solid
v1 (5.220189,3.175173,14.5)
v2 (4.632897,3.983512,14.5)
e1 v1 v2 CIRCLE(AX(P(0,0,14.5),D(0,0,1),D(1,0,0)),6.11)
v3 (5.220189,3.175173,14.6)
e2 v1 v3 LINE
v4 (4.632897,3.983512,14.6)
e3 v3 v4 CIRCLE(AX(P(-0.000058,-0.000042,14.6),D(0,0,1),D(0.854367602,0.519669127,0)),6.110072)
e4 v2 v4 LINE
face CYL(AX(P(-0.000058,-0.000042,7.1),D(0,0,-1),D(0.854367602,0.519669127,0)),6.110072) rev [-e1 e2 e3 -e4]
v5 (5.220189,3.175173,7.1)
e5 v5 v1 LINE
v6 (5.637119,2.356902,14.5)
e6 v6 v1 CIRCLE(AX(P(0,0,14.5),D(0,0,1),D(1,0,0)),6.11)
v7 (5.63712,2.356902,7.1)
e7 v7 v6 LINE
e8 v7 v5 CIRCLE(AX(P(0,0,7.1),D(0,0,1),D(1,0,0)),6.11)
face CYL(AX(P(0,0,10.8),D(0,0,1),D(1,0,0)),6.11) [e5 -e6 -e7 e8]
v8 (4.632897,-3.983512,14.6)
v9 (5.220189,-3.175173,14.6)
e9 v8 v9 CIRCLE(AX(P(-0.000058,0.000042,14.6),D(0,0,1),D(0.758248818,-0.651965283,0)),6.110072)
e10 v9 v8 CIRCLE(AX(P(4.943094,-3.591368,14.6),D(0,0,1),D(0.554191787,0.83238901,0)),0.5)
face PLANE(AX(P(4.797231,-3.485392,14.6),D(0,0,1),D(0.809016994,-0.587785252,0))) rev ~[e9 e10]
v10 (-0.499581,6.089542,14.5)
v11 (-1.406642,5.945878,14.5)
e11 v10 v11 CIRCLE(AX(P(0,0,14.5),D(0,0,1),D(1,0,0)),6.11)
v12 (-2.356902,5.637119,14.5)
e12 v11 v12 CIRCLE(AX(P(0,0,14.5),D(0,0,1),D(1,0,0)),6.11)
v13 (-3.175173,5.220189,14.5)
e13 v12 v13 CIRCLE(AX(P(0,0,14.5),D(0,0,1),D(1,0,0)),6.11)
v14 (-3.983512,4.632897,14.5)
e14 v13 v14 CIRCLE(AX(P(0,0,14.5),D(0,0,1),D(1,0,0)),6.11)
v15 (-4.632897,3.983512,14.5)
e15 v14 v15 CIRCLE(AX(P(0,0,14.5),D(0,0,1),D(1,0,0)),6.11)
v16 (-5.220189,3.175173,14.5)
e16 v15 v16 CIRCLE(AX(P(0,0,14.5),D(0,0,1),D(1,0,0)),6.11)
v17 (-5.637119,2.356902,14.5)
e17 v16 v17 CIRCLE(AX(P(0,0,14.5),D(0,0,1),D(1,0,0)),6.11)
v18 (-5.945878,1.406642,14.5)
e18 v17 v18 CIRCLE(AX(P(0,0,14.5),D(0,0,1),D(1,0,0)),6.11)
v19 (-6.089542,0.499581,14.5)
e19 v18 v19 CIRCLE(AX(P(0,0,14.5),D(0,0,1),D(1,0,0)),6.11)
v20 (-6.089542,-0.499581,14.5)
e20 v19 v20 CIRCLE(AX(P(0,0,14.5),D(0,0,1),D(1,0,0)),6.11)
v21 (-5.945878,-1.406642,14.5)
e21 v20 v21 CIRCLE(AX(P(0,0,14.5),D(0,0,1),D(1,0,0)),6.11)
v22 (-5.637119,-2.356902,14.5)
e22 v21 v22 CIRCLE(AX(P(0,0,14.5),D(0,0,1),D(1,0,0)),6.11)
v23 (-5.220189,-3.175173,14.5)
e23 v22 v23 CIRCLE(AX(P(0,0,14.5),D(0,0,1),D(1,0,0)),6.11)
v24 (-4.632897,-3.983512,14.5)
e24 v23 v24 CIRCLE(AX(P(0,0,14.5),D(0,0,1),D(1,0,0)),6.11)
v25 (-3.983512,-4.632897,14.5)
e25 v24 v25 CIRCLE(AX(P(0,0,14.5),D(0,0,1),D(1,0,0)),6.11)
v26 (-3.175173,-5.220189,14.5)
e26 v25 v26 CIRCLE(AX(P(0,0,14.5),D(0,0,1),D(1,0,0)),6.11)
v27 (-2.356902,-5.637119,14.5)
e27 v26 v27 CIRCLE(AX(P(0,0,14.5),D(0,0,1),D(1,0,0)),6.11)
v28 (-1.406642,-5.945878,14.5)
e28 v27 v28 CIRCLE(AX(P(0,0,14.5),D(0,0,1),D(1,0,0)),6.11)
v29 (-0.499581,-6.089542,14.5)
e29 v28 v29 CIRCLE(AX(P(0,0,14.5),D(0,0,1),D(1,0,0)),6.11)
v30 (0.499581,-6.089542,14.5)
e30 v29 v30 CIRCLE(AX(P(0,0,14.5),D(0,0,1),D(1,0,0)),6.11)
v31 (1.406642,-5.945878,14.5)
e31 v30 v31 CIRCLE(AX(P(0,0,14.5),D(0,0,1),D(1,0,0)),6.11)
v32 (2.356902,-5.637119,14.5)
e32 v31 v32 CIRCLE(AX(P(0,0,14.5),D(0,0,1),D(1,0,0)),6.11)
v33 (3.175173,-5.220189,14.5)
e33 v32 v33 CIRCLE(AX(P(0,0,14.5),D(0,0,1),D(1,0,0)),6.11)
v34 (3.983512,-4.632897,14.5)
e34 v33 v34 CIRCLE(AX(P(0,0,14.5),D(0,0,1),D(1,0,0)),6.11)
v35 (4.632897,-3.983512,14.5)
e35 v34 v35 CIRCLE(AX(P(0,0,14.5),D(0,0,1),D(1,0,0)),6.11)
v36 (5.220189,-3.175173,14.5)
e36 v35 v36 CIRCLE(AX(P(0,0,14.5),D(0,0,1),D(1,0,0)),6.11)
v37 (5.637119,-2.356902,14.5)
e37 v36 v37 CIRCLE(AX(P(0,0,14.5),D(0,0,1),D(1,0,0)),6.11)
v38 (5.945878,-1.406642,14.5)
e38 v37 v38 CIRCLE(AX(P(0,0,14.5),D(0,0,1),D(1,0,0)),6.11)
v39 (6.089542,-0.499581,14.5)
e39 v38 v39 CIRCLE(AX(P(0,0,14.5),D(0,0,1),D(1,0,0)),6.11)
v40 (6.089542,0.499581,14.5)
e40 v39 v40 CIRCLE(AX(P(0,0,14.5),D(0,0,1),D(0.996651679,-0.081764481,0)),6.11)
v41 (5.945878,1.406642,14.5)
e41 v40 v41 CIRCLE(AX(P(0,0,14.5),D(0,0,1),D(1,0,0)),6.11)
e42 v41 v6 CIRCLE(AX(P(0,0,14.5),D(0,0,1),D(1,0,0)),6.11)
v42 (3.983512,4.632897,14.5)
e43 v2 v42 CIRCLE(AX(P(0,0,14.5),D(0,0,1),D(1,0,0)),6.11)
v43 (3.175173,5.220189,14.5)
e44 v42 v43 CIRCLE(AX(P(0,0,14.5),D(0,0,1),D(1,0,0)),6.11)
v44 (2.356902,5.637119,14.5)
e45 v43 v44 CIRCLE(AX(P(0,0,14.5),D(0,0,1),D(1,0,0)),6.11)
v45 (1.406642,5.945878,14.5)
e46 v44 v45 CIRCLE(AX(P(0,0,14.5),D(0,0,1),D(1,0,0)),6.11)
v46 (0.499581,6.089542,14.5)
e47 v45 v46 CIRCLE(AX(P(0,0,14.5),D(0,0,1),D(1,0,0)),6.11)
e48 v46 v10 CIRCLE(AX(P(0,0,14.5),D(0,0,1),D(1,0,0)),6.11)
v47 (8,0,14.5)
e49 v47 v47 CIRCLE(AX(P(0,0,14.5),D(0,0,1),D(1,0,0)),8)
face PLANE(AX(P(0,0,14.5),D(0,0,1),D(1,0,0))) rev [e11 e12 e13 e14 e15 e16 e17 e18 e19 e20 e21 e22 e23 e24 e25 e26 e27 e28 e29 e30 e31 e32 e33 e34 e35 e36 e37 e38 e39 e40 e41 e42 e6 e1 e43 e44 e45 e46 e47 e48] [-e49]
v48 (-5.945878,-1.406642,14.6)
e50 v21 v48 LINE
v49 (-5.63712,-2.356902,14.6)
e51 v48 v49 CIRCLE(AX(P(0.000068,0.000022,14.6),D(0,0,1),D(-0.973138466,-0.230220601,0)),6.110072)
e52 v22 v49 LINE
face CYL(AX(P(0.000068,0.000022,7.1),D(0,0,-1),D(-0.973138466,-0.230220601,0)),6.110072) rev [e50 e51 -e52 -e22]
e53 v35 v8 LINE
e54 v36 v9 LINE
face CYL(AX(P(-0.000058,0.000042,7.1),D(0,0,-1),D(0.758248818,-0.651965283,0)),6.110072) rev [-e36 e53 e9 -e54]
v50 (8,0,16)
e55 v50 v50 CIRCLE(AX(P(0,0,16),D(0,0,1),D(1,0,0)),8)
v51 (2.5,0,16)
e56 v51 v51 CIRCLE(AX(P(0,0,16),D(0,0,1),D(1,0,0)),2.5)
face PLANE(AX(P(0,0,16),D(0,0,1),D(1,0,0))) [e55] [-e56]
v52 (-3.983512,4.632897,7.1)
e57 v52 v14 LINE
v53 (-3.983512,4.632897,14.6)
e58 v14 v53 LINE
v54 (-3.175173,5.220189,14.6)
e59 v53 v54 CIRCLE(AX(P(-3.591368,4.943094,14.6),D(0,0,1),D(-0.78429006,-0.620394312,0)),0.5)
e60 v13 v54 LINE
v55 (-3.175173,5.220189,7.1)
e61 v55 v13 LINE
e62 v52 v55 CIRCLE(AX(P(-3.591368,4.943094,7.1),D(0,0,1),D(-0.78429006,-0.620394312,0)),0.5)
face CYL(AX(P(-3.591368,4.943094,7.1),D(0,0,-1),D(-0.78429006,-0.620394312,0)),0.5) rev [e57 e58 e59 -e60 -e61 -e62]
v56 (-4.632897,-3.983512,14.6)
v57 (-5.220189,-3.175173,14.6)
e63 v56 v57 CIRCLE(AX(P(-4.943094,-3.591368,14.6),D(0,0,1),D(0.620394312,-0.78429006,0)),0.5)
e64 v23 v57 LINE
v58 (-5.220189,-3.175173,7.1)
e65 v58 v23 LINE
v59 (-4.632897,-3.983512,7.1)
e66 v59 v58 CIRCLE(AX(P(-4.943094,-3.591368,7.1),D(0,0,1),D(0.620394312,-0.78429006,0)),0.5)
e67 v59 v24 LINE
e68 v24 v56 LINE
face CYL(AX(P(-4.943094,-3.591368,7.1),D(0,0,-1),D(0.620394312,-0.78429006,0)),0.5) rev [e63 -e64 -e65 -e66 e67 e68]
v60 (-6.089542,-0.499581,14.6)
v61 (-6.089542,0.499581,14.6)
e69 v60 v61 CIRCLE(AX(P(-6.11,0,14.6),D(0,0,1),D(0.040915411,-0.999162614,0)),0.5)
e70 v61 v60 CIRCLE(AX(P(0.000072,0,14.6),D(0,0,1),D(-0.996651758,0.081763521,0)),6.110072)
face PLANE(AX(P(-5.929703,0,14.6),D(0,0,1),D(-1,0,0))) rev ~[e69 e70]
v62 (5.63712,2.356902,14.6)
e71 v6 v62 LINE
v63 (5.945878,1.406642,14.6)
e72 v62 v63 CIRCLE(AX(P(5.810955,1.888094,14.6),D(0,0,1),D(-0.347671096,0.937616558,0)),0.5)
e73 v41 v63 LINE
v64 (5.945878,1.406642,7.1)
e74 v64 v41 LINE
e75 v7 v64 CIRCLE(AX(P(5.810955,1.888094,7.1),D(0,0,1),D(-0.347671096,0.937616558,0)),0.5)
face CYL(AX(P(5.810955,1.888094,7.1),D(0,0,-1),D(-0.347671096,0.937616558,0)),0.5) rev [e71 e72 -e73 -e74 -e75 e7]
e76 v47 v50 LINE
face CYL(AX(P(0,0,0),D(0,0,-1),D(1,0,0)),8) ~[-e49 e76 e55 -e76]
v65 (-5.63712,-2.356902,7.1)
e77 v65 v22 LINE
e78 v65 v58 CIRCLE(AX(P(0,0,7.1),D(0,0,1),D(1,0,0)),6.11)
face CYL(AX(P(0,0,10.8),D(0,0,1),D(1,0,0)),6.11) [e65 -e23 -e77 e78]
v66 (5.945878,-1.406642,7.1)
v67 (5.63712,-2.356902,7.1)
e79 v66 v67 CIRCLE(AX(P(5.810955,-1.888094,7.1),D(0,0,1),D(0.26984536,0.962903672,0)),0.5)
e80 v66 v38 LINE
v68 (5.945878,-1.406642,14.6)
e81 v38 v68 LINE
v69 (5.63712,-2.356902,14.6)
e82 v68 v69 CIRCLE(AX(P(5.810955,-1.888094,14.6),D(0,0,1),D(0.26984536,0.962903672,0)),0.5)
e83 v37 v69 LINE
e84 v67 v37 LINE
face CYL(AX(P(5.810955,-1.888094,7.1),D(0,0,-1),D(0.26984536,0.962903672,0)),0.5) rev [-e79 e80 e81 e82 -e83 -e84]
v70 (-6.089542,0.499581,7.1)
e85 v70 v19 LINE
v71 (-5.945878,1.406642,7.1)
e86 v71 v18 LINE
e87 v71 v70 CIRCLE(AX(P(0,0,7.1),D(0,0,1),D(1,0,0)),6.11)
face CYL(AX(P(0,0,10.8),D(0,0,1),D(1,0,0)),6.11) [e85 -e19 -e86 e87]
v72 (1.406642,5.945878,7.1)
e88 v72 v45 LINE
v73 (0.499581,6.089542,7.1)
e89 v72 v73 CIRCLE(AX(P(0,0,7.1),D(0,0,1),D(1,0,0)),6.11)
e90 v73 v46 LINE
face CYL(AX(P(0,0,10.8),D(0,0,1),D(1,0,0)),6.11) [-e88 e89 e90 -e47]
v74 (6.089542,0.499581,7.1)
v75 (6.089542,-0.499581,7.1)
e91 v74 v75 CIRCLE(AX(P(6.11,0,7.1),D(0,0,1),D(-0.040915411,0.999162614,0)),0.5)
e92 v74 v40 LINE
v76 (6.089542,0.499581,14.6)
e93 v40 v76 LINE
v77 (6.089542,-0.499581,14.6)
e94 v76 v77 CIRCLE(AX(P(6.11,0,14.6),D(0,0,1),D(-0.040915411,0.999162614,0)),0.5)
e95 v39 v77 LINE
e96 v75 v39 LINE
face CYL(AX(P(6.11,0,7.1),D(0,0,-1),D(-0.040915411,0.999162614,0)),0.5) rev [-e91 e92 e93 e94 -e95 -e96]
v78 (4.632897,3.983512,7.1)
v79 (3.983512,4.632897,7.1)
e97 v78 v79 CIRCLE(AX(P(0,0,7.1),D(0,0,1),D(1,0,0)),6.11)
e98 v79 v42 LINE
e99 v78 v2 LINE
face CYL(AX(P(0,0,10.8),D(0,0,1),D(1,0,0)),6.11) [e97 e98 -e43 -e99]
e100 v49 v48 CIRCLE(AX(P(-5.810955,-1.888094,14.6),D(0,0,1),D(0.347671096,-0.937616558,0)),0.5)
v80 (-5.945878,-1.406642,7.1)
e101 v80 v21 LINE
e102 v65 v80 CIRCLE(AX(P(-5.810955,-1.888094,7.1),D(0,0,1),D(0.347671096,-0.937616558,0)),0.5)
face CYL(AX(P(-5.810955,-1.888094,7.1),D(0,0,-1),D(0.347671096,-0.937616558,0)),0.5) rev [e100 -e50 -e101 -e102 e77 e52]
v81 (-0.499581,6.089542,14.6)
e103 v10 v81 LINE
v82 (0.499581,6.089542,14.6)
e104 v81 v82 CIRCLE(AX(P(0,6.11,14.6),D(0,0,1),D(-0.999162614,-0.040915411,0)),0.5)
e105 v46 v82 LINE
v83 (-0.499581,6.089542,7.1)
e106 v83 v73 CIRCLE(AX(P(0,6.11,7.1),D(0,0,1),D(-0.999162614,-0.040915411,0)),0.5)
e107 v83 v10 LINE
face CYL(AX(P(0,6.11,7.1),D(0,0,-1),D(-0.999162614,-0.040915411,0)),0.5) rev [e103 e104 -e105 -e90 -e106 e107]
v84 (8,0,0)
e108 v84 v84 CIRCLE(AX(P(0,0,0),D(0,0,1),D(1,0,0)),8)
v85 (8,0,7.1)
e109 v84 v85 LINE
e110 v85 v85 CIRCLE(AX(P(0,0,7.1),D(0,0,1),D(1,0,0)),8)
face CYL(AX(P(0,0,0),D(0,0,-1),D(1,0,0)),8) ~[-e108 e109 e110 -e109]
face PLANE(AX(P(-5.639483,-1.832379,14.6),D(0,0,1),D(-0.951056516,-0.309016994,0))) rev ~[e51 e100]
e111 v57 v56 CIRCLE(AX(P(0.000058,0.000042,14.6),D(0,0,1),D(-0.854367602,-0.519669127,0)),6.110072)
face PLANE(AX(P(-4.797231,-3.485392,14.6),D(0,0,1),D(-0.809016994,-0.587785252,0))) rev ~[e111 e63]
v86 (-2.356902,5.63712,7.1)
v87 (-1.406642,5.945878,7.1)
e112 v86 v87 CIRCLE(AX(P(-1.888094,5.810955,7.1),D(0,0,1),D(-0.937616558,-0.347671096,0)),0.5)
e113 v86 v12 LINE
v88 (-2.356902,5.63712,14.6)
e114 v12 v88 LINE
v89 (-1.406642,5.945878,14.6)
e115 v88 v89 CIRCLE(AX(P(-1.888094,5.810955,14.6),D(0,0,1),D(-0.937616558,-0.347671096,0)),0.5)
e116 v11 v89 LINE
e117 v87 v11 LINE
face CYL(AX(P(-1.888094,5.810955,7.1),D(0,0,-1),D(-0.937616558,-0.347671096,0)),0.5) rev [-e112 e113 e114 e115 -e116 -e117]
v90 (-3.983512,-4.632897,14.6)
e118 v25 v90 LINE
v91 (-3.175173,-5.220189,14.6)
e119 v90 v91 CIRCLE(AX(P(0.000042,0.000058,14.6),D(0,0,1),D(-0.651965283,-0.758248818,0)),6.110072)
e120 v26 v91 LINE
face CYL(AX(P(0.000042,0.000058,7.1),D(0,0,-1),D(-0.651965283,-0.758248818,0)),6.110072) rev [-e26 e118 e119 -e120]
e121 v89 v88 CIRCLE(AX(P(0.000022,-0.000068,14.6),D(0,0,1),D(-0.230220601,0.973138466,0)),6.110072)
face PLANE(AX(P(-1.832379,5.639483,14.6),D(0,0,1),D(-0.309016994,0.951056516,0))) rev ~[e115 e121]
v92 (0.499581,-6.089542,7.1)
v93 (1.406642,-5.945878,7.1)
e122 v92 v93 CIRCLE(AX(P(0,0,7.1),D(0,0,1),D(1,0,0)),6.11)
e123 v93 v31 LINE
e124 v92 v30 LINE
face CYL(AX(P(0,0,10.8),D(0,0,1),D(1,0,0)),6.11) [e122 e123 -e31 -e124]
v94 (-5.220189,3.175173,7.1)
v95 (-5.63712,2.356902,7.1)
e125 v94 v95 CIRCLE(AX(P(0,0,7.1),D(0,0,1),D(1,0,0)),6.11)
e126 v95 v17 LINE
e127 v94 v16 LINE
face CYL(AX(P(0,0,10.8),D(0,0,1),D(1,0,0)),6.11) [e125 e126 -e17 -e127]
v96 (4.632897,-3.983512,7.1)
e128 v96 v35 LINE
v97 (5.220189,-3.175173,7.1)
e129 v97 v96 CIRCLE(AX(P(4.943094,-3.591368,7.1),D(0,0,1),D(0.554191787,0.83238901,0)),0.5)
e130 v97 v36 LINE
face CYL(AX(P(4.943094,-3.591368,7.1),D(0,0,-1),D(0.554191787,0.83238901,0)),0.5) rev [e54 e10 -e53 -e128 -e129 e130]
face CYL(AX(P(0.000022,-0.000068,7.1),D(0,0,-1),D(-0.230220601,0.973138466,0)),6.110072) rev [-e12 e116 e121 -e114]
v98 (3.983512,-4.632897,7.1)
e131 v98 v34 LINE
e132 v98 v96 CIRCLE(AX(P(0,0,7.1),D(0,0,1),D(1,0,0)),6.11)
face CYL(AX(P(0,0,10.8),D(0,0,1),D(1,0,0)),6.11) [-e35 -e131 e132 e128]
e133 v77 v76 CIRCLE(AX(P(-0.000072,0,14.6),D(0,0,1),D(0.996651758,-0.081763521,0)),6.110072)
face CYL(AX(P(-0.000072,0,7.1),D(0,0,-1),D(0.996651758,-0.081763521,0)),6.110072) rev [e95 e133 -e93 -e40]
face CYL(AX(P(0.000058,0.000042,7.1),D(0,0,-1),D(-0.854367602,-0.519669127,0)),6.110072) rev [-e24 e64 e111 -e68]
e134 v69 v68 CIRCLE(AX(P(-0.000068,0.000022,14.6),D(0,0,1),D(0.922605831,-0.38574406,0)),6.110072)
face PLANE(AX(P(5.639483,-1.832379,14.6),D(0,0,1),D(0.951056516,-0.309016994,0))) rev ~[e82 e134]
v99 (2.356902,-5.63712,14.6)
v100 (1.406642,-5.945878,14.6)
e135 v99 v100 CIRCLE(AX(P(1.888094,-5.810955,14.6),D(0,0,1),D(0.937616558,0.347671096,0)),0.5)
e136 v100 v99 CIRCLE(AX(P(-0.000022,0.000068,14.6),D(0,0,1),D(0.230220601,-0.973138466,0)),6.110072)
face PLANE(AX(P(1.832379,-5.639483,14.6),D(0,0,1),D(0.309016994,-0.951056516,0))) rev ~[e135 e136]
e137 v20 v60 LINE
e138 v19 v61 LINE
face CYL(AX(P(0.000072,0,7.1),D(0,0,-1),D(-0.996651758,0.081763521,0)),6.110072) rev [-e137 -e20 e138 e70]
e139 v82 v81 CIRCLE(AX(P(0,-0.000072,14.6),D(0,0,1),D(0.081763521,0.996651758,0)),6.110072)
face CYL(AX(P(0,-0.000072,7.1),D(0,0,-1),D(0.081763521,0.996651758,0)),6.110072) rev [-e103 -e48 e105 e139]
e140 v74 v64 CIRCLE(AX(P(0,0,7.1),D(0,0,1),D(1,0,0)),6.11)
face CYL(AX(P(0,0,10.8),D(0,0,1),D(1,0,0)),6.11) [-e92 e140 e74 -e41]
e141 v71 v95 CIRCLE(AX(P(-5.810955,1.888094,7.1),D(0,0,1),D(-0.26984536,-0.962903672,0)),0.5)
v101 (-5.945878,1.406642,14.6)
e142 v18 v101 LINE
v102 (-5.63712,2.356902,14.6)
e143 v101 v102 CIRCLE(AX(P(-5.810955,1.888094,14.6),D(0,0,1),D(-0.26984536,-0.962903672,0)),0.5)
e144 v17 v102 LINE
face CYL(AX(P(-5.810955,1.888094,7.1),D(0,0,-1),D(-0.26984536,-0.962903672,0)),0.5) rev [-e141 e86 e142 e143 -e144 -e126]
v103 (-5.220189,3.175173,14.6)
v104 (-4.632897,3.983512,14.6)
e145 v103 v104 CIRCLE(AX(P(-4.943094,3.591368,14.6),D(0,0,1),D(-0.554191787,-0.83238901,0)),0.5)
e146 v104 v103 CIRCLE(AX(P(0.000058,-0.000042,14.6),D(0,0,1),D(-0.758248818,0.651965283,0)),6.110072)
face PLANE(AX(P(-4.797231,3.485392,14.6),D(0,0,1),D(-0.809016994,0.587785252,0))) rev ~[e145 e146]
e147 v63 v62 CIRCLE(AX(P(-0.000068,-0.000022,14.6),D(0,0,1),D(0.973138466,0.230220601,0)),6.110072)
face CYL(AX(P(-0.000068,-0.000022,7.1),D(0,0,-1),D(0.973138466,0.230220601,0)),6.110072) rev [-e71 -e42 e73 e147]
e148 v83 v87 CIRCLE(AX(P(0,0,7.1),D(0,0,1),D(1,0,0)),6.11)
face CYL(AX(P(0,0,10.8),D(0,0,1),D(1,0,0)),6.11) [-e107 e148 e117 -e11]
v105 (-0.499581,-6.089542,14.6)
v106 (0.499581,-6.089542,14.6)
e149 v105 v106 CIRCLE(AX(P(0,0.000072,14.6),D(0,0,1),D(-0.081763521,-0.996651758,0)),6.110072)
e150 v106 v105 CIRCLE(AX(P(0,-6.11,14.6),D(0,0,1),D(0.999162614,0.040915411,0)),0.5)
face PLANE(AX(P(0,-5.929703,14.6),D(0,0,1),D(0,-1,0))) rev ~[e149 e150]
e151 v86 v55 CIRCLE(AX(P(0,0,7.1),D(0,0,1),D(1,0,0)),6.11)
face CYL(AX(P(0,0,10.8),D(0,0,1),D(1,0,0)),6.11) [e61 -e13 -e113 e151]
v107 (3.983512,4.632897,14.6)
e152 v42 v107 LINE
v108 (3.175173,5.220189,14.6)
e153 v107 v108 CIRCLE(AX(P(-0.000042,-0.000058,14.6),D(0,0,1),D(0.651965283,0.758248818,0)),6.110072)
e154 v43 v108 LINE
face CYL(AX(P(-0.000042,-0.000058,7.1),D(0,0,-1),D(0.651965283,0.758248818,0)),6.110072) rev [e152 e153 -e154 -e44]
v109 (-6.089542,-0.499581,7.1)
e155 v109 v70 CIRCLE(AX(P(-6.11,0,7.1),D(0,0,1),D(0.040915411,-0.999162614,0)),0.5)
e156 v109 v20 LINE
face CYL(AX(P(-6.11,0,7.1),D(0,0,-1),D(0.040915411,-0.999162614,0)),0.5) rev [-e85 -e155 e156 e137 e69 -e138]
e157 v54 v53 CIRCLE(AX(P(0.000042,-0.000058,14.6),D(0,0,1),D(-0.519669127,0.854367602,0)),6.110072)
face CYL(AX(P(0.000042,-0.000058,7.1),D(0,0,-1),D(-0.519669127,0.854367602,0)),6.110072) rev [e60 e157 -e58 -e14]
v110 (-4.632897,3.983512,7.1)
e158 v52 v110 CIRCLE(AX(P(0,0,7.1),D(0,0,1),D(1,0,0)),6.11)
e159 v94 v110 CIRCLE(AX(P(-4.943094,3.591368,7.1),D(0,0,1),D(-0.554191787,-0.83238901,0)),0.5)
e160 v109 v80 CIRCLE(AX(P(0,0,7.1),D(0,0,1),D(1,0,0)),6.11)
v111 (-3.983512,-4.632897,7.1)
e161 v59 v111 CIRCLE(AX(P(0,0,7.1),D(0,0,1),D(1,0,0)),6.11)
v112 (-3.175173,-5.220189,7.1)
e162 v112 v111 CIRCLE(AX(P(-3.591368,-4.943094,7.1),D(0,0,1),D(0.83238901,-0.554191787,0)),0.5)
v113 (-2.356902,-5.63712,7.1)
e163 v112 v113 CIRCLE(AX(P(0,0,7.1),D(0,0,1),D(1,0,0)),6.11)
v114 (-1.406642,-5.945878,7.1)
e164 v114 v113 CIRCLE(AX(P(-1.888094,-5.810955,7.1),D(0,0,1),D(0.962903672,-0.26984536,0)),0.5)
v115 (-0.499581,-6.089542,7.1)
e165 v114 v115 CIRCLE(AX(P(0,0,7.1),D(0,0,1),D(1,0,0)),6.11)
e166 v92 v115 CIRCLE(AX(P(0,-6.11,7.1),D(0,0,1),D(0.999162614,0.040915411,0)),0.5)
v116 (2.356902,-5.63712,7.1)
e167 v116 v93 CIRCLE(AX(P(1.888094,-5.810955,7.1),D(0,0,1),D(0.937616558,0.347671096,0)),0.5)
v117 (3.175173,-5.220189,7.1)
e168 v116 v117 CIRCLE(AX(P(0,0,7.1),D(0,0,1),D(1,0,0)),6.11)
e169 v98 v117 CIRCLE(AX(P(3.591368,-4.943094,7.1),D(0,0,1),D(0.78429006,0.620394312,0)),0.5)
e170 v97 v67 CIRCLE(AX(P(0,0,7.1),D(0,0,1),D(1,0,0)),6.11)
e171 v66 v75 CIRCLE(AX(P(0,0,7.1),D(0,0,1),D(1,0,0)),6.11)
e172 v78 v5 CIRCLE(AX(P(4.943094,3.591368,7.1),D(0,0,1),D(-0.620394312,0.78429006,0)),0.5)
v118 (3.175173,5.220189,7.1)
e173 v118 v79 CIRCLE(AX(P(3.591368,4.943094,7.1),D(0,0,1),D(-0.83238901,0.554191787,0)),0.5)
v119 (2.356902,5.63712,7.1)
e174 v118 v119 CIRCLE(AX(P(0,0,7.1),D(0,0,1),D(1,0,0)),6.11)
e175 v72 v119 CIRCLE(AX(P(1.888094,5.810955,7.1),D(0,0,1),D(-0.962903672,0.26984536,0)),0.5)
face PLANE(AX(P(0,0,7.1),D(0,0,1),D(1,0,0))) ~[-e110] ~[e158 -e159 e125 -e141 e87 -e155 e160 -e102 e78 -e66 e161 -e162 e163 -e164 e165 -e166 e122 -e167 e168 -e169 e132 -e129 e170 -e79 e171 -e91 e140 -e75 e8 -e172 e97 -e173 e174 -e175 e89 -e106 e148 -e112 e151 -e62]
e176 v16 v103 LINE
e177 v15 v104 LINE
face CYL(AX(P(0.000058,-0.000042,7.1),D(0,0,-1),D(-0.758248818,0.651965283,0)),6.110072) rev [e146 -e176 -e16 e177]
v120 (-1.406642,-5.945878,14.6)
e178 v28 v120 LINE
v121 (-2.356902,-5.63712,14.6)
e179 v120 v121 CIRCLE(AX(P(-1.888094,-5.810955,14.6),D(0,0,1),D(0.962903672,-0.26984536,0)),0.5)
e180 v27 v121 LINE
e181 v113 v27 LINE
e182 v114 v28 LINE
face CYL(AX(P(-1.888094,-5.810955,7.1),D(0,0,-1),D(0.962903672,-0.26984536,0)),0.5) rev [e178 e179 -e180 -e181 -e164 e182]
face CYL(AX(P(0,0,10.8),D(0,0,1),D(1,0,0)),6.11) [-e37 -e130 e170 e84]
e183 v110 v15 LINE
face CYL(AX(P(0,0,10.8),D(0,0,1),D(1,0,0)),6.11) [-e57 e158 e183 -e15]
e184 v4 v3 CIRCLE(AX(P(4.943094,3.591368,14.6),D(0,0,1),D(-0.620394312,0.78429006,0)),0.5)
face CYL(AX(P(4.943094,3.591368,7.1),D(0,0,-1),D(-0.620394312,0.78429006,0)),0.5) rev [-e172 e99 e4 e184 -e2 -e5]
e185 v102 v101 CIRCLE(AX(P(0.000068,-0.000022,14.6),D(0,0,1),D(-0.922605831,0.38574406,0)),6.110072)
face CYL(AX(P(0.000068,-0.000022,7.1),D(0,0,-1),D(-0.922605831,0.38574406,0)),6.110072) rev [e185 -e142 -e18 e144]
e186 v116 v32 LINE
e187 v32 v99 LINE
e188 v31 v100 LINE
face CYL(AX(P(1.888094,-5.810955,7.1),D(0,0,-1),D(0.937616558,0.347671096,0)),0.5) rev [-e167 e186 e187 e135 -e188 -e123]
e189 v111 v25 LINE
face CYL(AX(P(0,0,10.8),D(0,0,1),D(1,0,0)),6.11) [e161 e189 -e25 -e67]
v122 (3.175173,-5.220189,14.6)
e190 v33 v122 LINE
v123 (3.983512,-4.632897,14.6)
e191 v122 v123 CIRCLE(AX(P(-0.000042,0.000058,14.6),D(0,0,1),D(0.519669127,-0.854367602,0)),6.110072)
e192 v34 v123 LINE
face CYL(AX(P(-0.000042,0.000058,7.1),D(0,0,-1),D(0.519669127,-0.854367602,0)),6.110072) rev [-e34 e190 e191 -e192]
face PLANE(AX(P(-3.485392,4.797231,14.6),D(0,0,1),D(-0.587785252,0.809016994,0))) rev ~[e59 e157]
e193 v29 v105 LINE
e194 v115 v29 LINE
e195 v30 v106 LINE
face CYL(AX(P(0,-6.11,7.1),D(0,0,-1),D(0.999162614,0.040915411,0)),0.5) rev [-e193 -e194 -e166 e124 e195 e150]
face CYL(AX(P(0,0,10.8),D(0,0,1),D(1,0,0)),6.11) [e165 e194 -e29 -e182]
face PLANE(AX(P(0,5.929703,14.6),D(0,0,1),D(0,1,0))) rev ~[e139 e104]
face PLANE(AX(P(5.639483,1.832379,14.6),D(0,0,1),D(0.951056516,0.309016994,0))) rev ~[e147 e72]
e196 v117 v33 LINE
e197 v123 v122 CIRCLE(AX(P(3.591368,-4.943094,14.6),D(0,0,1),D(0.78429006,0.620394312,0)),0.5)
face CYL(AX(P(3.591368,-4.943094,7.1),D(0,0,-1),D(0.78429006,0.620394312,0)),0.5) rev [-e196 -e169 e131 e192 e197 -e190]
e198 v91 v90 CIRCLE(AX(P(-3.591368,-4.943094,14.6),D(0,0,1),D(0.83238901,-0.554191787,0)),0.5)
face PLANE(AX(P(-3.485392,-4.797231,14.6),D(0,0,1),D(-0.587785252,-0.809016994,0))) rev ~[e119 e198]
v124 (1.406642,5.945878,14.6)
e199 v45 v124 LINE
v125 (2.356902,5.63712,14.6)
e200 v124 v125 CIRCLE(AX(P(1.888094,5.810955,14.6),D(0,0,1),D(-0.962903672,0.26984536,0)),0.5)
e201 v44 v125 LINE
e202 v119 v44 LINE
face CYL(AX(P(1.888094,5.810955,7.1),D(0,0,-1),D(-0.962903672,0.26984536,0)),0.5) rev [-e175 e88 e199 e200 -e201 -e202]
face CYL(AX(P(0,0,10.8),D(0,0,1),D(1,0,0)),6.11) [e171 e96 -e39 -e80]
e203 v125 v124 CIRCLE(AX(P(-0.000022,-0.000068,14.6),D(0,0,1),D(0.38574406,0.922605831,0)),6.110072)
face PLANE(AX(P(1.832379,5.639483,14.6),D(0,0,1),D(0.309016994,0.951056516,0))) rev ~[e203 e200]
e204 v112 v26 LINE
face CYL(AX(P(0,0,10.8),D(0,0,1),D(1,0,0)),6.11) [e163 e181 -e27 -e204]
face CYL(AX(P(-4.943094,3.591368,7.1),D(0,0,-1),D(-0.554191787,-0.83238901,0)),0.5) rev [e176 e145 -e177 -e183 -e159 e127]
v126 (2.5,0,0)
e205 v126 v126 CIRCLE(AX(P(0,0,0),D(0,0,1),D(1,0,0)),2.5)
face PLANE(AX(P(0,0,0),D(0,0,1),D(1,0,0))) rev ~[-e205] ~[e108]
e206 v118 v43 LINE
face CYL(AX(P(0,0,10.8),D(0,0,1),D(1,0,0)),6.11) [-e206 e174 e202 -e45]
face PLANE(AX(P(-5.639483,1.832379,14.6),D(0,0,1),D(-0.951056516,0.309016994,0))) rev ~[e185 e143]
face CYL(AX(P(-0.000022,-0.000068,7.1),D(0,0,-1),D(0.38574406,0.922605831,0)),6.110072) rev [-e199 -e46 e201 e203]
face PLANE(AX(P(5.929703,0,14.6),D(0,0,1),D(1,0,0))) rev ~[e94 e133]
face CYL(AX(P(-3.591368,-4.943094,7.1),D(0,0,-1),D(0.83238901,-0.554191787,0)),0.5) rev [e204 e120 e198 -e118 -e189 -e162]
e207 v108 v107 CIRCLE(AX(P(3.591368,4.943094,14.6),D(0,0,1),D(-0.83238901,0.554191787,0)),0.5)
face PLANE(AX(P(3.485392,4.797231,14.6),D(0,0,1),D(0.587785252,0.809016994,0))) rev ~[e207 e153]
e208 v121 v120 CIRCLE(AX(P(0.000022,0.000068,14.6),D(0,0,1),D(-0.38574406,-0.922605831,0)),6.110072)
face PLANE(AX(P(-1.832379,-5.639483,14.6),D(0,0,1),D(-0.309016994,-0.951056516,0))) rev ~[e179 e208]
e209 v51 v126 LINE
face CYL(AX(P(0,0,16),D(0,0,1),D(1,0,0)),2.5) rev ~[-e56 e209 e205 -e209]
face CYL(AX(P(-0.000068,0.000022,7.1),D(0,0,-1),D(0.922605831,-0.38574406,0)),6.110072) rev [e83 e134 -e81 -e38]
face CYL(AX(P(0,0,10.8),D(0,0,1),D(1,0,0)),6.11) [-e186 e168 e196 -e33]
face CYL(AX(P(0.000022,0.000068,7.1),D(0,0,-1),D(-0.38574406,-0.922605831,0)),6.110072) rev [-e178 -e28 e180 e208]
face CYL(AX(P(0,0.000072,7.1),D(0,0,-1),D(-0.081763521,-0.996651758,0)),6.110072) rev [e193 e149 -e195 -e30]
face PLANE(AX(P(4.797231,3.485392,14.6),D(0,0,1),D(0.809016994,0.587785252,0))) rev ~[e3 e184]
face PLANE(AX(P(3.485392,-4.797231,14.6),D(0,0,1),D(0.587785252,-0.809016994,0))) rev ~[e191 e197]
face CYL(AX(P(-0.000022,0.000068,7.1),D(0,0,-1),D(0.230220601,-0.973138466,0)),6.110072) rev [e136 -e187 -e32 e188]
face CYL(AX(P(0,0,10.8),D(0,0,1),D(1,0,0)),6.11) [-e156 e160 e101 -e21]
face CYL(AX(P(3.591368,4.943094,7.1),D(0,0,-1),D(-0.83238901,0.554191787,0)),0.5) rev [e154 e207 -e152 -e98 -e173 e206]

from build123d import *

# Parameters (mm, degrees)
SKETCH_R           = 8
PAD_DEPTH          = 16
SKETCH001_W        = 1.89
SKETCH001_H        = 7.4
SKETCH002_R        = 2.5
POCKET_DEPTH       = 16.001
POCKET001_DEPTH    = 7.5
POLARPATTERN_COUNT = 20


with BuildPart() as part:
    # Sketch → Pad (new body)
    with BuildSketch(Plane.XY):
        Circle(SKETCH_R)
    extrude(amount=PAD_DEPTH)

    # Sketch001 → Groove (revolve, cut)
    with BuildSketch(Plane.XZ):
        with Locations((7.055, 10.8)):
            Rectangle(SKETCH001_W, SKETCH001_H)
    revolve(axis=Axis((0, 0, 0), (0, 0, 1)), mode=Mode.SUBTRACT)

    # Sketch002 (on Face7 of Groove) → Pocket (cut, through all)
    with BuildSketch(Plane.XY.offset(16)):
        Circle(SKETCH002_R)
    extrude(amount=-POCKET_DEPTH, mode=Mode.SUBTRACT)

    # Sketch003 (on Face3 of Pocket) → Pocket001 (cut)
    with BuildSketch(Plane.XY.offset(7.1)):
        with BuildLine():
            ThreePointArc((6.089542, 0.499581), (5.61, 0), (6.089542, -0.499581))
            ThreePointArc((6.089542, -0.499581), (6.11, 0), (6.089542, 0.499581))
        make_face()
    pocket001 = extrude(amount=POCKET001_DEPTH, mode=Mode.SUBTRACT)

    # PolarPattern: Pocket001 ×20 about axis
    polarpattern_axis = Axis((0, 0, 7.1), (0, 0, 1))
    for i in range(1, POLARPATTERN_COUNT):
        add(pocket001.rotate(polarpattern_axis, i * 360 / POLARPATTERN_COUNT), mode=Mode.SUBTRACT)


solid = part.part
